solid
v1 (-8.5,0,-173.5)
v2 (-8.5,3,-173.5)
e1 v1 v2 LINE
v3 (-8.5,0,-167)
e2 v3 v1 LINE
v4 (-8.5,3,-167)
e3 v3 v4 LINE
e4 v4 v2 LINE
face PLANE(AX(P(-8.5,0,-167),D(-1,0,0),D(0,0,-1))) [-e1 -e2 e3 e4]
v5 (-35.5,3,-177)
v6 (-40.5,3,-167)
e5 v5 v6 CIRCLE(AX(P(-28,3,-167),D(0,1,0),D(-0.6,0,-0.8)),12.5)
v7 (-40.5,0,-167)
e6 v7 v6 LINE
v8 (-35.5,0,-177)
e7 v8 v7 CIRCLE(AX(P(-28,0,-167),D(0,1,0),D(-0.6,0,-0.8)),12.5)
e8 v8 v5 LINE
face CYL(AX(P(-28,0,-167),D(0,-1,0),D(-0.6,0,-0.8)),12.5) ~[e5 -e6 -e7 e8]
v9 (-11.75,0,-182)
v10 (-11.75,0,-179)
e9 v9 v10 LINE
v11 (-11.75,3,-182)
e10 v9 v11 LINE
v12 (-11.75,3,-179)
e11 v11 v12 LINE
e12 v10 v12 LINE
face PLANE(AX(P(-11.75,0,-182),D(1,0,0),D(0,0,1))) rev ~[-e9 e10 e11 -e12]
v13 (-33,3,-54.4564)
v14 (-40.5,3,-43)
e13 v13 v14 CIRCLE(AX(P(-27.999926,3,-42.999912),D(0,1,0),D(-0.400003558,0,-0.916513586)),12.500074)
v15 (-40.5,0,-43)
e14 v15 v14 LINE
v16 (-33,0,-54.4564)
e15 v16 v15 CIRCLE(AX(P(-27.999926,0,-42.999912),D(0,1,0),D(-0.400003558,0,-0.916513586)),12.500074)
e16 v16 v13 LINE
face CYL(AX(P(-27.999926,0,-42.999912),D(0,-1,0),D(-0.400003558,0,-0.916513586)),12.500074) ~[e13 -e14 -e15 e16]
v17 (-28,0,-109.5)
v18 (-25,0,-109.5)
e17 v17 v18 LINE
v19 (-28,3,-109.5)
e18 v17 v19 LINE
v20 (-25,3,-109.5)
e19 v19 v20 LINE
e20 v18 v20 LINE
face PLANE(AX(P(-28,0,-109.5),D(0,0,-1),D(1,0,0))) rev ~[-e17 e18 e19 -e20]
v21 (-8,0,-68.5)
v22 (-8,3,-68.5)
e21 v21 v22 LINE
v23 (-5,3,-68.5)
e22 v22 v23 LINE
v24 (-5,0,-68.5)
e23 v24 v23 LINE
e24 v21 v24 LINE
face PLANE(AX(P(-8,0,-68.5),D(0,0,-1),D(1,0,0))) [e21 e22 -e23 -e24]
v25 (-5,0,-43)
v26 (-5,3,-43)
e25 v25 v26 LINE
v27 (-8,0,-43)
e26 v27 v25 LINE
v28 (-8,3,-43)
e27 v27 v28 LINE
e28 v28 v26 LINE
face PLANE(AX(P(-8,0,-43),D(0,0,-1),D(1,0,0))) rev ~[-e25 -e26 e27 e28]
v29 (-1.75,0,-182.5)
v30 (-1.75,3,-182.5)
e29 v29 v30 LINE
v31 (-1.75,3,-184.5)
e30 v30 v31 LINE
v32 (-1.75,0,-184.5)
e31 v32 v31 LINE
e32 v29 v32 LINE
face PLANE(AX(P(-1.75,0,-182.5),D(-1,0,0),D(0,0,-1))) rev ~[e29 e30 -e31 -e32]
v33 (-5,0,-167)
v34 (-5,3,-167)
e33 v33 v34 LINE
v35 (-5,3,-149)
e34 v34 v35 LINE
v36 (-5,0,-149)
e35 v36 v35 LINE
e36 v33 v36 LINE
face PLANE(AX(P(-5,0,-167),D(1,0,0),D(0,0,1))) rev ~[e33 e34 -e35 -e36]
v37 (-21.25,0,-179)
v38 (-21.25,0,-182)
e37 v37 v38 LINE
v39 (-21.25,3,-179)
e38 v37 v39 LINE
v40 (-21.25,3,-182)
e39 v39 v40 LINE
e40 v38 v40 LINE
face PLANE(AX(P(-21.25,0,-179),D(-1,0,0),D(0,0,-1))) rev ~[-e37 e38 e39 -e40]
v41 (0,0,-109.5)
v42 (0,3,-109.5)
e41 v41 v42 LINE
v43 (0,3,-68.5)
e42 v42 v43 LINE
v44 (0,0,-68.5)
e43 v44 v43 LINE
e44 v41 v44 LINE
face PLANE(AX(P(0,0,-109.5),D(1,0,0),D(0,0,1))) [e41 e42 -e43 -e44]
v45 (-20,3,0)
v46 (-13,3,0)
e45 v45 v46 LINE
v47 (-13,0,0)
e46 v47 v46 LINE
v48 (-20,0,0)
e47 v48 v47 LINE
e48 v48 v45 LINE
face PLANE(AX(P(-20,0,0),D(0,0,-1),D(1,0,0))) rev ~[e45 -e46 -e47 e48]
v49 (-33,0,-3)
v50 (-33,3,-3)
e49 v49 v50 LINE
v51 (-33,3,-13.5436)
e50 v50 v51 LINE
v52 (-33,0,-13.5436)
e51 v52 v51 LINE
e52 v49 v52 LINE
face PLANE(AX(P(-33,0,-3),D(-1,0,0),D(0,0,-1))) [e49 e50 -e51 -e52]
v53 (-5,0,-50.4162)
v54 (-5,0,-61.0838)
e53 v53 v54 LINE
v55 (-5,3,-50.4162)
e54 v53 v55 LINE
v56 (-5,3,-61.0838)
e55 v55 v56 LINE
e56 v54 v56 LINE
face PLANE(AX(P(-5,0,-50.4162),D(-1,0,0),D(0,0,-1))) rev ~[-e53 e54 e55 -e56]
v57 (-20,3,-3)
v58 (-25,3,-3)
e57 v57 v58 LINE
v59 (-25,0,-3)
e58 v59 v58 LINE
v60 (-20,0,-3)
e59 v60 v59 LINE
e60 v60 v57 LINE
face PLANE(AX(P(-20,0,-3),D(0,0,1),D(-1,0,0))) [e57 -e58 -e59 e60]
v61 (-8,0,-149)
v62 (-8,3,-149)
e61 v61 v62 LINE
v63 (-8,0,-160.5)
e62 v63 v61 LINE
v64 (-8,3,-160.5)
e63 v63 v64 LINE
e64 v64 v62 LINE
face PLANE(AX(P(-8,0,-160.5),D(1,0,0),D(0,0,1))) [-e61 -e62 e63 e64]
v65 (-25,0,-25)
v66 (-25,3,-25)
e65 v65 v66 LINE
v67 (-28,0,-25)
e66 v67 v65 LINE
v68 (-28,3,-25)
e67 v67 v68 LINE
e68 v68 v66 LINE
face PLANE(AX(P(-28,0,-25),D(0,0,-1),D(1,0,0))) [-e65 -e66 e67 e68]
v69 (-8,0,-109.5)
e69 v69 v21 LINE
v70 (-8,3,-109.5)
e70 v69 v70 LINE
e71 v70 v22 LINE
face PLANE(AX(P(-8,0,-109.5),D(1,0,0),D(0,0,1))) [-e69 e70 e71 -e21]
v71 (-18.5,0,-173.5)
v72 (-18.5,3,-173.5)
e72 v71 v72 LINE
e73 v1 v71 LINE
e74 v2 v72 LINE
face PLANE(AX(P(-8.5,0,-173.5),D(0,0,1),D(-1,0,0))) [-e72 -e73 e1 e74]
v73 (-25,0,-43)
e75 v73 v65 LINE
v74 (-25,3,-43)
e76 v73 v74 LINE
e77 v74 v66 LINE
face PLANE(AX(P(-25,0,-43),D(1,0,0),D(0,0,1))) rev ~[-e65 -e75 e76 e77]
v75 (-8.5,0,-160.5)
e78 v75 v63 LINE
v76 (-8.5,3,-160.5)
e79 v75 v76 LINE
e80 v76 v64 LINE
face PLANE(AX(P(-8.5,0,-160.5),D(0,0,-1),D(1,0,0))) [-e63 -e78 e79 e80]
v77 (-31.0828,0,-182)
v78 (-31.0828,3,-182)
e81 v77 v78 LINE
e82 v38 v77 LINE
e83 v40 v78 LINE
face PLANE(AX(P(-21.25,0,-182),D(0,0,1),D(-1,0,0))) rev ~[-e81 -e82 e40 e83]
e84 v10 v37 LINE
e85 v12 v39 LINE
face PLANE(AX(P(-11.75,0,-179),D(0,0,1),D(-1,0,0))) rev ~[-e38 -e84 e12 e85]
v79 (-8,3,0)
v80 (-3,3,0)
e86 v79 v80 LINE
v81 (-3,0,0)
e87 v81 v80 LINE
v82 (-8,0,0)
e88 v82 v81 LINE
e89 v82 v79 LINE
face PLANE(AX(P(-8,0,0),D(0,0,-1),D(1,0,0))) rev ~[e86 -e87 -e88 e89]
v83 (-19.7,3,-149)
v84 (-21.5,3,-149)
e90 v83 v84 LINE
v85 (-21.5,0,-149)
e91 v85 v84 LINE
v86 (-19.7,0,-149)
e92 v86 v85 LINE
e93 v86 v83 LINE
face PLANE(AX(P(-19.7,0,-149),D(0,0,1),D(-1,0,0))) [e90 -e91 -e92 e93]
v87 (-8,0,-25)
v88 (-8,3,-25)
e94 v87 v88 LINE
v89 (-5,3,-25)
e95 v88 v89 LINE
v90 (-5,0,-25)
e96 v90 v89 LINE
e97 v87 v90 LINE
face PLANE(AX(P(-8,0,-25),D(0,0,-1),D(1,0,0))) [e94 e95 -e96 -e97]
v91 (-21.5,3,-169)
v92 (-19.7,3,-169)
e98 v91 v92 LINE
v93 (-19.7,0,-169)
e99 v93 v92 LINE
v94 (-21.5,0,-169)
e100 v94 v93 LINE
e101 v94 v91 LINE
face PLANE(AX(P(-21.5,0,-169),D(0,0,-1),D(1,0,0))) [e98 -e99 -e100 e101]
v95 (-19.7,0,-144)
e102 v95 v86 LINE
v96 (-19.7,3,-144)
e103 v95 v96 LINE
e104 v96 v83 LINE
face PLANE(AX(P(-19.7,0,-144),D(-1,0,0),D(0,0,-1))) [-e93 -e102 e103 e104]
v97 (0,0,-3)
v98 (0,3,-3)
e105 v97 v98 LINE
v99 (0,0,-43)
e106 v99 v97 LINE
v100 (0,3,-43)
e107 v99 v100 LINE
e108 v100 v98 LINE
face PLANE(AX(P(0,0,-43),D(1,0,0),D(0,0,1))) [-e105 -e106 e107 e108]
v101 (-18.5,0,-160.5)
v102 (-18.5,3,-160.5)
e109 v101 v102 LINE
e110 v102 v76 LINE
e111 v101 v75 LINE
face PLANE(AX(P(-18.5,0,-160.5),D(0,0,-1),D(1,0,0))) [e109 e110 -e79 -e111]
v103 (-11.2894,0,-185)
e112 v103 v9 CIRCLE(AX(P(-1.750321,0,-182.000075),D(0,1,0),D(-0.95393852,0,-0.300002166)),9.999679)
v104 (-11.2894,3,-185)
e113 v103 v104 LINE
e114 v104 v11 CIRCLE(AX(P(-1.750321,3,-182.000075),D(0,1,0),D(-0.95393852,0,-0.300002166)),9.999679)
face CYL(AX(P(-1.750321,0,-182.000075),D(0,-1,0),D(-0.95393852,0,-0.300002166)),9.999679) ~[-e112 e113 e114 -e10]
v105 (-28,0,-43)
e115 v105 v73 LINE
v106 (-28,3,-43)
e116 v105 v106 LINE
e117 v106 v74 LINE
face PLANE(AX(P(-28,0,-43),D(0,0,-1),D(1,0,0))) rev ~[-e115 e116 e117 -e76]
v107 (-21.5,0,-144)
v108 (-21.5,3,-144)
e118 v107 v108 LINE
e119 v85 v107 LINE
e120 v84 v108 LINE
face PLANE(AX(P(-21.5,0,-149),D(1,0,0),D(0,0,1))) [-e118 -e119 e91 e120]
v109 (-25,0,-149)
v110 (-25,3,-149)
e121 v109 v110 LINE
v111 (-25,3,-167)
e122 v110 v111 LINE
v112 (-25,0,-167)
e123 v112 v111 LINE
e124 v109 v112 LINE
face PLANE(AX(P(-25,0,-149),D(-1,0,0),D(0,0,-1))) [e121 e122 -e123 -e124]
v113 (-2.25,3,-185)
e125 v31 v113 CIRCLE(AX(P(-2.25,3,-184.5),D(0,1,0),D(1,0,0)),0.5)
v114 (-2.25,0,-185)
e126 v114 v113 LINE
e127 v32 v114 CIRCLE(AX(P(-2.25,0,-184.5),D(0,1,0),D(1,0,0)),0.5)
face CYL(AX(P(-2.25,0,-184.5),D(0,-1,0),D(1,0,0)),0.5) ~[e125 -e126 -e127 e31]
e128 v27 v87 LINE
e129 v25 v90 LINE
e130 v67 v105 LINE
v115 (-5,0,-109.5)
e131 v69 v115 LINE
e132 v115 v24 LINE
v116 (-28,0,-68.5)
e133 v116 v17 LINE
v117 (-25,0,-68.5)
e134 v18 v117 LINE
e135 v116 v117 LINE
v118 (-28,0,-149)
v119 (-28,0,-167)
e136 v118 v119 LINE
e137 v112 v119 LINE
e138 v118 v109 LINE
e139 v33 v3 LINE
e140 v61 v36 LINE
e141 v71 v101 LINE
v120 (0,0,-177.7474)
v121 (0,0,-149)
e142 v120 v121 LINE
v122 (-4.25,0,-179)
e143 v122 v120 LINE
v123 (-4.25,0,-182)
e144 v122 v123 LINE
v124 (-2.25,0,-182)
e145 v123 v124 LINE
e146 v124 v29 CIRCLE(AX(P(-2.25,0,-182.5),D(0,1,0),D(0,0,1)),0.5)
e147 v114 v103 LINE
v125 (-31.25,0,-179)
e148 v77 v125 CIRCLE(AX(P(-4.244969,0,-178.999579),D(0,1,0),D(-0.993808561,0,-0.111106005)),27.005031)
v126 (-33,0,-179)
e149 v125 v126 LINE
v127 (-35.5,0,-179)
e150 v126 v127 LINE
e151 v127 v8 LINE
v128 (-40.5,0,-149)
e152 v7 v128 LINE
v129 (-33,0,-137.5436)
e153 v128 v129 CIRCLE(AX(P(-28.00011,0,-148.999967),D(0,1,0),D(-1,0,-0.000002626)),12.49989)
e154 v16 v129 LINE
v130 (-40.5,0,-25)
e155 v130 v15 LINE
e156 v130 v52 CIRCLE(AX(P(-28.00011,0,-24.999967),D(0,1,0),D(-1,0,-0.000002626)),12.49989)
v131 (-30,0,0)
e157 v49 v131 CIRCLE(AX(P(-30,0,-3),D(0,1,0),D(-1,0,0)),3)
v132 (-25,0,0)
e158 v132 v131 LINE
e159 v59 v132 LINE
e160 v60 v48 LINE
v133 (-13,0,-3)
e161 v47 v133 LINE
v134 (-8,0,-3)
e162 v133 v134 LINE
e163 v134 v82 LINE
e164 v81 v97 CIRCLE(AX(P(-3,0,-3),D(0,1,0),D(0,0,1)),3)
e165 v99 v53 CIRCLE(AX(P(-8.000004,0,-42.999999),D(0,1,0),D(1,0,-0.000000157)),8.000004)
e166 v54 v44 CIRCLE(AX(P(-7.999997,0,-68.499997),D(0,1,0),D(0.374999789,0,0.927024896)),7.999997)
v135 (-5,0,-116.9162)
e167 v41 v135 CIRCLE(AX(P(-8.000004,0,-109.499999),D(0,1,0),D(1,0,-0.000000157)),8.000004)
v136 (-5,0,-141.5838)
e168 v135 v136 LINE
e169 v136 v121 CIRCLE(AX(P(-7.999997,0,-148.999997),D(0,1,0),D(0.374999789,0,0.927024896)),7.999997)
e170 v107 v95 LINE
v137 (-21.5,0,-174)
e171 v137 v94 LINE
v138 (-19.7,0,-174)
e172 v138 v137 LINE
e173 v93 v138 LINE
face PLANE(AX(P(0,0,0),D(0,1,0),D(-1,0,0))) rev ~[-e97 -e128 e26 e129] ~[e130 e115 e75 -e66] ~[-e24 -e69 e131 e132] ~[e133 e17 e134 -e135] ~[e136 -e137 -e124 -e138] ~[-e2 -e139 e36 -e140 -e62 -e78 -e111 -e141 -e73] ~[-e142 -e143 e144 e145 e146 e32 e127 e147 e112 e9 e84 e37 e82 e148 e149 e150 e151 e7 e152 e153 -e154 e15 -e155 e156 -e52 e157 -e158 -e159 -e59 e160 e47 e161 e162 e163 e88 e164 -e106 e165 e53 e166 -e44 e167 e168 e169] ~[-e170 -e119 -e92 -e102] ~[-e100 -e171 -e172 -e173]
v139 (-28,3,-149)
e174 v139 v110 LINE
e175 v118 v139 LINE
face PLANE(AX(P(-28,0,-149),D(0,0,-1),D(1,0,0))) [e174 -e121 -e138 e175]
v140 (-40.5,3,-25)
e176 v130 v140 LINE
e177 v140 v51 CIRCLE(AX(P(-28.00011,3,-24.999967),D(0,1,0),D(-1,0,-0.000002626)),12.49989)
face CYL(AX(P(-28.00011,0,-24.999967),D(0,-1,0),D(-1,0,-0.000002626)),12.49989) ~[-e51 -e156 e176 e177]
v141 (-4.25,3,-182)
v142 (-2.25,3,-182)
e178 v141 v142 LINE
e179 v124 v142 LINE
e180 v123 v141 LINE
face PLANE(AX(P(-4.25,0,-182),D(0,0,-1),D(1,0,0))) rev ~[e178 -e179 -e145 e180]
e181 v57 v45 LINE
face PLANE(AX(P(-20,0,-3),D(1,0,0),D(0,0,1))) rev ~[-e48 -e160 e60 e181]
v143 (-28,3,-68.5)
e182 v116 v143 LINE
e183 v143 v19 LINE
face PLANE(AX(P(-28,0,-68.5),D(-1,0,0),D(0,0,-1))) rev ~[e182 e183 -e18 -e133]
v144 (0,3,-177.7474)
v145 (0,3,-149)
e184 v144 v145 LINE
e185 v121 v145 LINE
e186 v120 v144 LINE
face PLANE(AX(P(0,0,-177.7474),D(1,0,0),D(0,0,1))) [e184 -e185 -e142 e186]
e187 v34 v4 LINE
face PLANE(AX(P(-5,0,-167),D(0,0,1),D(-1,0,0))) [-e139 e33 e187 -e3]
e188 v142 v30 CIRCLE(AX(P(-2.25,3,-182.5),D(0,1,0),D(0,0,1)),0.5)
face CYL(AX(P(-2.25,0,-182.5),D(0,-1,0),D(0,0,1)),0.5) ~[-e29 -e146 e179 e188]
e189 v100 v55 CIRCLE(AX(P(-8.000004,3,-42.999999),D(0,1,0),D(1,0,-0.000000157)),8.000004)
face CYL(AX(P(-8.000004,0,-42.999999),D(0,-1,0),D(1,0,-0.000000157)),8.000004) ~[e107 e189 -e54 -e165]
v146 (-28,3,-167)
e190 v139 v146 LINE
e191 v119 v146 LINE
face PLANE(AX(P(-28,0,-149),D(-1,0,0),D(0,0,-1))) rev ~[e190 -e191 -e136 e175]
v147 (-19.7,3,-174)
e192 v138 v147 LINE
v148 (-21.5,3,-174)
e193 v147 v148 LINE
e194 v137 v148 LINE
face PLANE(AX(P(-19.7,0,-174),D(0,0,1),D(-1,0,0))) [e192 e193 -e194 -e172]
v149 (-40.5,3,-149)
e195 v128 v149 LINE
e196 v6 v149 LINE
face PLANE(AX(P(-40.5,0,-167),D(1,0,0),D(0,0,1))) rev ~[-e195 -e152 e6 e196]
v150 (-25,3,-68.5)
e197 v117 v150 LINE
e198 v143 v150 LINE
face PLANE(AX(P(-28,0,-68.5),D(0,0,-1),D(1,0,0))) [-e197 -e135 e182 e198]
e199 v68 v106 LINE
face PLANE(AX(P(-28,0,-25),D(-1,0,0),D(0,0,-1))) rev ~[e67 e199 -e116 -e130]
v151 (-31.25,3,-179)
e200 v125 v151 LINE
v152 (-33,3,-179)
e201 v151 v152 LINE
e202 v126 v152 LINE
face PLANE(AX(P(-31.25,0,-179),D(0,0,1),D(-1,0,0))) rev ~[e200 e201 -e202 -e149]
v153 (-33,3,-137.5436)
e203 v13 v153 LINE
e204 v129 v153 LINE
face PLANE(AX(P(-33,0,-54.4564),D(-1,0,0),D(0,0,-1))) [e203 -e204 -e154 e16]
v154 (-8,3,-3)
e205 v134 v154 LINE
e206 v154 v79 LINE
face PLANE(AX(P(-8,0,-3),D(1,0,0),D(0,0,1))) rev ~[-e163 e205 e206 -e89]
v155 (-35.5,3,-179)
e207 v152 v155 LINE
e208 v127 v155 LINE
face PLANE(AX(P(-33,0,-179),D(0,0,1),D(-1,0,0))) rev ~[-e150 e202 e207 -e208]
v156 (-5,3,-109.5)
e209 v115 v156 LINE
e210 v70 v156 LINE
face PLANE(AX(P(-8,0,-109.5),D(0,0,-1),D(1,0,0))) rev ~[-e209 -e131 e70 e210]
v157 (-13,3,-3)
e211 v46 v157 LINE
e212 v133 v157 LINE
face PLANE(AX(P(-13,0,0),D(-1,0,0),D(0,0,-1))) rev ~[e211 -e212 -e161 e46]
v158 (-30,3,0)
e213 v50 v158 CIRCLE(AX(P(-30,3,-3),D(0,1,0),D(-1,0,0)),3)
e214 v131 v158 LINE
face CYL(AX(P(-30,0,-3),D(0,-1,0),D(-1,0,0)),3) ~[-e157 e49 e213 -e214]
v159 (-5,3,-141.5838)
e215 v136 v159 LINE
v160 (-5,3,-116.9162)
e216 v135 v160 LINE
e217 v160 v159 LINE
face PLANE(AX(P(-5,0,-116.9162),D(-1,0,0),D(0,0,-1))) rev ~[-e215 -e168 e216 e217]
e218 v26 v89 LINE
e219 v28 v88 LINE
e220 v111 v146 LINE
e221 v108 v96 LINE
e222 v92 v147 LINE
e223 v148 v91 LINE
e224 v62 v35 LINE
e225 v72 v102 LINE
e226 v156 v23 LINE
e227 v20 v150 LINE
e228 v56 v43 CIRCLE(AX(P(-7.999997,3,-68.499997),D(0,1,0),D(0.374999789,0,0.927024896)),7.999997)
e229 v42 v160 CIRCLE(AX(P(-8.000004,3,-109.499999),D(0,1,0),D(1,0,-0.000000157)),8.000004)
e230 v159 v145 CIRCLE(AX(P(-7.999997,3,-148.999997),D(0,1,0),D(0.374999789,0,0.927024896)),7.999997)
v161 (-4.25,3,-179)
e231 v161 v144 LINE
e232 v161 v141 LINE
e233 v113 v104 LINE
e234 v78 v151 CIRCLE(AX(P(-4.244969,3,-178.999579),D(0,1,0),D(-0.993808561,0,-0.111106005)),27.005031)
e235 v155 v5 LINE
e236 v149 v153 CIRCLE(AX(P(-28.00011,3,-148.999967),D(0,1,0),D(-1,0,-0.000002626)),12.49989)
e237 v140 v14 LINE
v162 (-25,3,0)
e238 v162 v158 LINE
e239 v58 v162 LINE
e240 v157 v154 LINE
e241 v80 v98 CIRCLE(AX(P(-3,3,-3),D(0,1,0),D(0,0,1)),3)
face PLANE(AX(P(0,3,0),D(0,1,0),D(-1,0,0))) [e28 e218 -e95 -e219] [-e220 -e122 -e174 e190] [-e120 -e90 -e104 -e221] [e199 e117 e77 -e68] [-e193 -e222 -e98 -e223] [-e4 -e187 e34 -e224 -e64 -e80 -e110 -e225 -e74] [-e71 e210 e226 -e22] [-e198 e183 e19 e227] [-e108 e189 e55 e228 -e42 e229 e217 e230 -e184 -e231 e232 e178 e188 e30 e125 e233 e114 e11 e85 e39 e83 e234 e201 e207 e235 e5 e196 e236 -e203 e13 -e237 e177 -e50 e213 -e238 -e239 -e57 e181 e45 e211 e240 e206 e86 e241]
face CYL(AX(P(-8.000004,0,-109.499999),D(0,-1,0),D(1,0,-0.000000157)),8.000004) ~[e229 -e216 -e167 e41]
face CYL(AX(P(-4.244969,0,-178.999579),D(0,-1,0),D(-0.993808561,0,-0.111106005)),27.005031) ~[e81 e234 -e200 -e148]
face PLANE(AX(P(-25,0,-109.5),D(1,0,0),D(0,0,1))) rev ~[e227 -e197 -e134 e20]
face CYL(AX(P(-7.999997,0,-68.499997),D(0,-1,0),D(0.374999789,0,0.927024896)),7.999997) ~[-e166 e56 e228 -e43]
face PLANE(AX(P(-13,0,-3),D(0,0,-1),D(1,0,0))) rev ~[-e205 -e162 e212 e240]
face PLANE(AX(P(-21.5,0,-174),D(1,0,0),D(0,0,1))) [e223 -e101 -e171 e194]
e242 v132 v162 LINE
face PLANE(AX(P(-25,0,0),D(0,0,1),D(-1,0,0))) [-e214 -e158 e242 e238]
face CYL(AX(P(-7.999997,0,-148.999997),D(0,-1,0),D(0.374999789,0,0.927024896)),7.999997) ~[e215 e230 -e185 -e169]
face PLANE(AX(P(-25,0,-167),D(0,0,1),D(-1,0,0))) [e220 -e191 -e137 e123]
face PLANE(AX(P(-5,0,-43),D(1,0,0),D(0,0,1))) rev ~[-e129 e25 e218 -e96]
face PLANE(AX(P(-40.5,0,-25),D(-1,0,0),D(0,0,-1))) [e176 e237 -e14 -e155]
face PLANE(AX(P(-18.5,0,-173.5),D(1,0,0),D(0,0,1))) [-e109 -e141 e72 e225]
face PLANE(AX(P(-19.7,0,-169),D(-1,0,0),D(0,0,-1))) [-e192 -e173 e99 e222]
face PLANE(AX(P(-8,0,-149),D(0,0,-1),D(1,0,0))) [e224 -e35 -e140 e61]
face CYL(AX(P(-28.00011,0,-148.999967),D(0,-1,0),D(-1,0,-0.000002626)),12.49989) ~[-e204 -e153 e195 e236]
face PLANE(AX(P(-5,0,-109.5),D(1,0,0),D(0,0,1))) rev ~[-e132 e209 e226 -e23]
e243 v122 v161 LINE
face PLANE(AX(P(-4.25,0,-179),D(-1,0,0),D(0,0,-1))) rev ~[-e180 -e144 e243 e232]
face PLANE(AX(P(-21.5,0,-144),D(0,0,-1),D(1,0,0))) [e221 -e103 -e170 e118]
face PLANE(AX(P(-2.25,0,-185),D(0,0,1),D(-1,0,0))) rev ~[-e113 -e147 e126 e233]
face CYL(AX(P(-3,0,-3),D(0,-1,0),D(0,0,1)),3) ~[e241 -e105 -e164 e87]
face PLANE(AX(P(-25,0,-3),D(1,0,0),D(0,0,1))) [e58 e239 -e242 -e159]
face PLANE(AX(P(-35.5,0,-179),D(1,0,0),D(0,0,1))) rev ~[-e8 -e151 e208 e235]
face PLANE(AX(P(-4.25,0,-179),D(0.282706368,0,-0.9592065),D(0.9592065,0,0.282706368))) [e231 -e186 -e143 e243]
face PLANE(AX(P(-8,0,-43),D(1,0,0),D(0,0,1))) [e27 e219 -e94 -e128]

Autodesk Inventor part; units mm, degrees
ref_plane "YZ Plane" through (0, 0, 0) normal (1, 0, 0) x (0, 1, 0)
ref_plane "XZ Plane" through (0, 0, 0) normal (0, 1, 0) x (-1, 0, 0)
ref_plane "XY Plane" through (0, 0, 0) normal (0, 0, 1) x (1, 0, 0)
sketch "Sketch1" plane through (0, 0, 0) normal (0, 1, 0) x (-1, 0, 0)
  line L0 (28, -25) -> (25, -25)
  line L1 (28, -43) -> (25, -43)
  line L2 (28, -68.5) -> (25, -68.5)
  line L3 (28, -109.5) -> (25, -109.5)
  line L4 (8, -68.5) -> (5, -68.5)
  line L5 (8, -109.5) -> (5, -109.5)
  line L6 (8, -43) -> (5, -43)
  line L7 (8, -25) -> (5, -25)
  line L8 (25, -109.5) -> (25, -68.5)
  line L9 (25, -43) -> (25, -25)
  line L10 (8, -109.5) -> (8, -68.5)
  line L11 (8, -43) -> (8, -25)
  line L12 (8, -160.5) -> (8, -149)
  line L13 (28, -149) -> (25, -149)
  line L14 (8, -149) -> (5, -149)
  line L15 (25, -149) -> (25, -167)
  line L16 (25, -167) -> (28, -167)
  line L17 (5, -167) -> (8.5, -167)
  line L18 (21.5, -169) -> (19.7, -169)
  line L19 (19.7, -169) -> (19.7, -174)
  line L20 (19.7, -174) -> (21.5, -174)
  line L21 (21.5, -174) -> (21.5, -169)
  line L22 (16.5, -110.2512) -> (16.5, -143.2512) construction
  line L23 (28, -25) -> (28, -43)
  line L24 (28, -68.5) -> (28, -109.5)
  line L25 (28, -149) -> (28, -167)
  line L26 (5, -167) -> (5, -149)
  line L27 (5, -109.5) -> (5, -68.5)
  line L28 (5, -43) -> (5, -25)
  line L29 (13, -3) -> (8, -3)
  line L30 (20, -3) -> (20, 0)
  line L31 (20, 0) -> (13, 0)
  line L32 (13, 0) -> (13, -3)
  line L33 (20, -3) -> (25, -3)
  line L34 (4.25, -179) -> (4.25, -182)
  line L35 (11.75, -179) -> (21.25, -179)
  line L36 (21.25, -179) -> (21.25, -182)
  line L37 (21.25, -182) -> (31.0828, -182)
  line L38 (31.25, -179) -> (33, -179)
  line L39 (4.25, -182) -> (2.25, -182)
  line L40 (25, -3) -> (25, 0)
  line L41 (25, 0) -> (30, 0)
  line L42 (8, -3) -> (8, 0)
  line L43 (8, 0) -> (3, 0)
  line L44 (2.25, -185) -> (11.2894, -185)
  arc A0 (31.0828, -182) -> (31.25, -179) centre (4.25, -179) ccw
  arc A1 (5, -141.5838) -> (0, -149) centre (8, -149) ccw
  arc A2 (5, -61.0838) -> (0, -68.5) centre (8, -68.5) ccw
  line L45 (5, -50.4162) -> (5, -61.0838)
  line L46 (5, -116.9162) -> (5, -141.5838)
  line L47 (19.5, -129.25) -> (13.2, -129.25) construction
  arc A3 (0, -109.5) -> (5, -116.9162) centre (8, -109.5) ccw
  line L48 (0, -177.7474) -> (0, -149)
  arc A4 (0, -43) -> (5, -50.4162) centre (8, -43) ccw
  line L49 (0, -109.5) -> (0, -68.5)
  line L50 (0, -43) -> (0, -3)
  arc A5 (33, -54.4564) -> (40.5, -43) centre (28, -43) ccw
  line L51 (40.5, -25) -> (40.5, -43)
  arc A6 (40.5, -25) -> (33, -13.5436) centre (28, -25) ccw
  line L52 (33, -3) -> (33, -13.5436)
  arc A7 (40.5, -149) -> (33, -137.5436) centre (28, -149) ccw
  line L53 (40.5, -167) -> (40.5, -149)
  arc A8 (35.5, -177) -> (40.5, -167) centre (28, -167) ccw
  line L54 (33, -54.4564) -> (33, -137.5436)
  arc A9 (33, -3) -> (30, 0) centre (30, -3) ccw
  arc A10 (3, 0) -> (0, -3) centre (3, -3) ccw
  line L55 (21.5, -144) -> (19.7, -144)
  line L56 (19.7, -144) -> (19.7, -149)
  line L57 (19.7, -149) -> (21.5, -149)
  line L58 (21.5, -149) -> (21.5, -144)
  line L59 (18.5, -160.5) -> (8.5, -160.5)
  line L60 (8.5, -167) -> (8.5, -173.5)
  line L61 (8.5, -173.5) -> (18.5, -173.5)
  line L62 (18.5, -173.5) -> (18.5, -160.5)
  line L63 (13.5, -163.9683) -> (13.5, -168.686) construction
  line L64 (14.8699, -167) -> (11.7199, -167) construction
  arc A11 (11.2894, -185) -> (11.75, -182) centre (1.75, -182) ccw
  line L65 (11.75, -182) -> (11.75, -179)
  line L66 (14.25, -179) -> (14.25, -182) construction
  line L67 (14.25, -182) -> (4.25, -182) construction
  line L68 (31.25, -179) -> (31.25, -182) construction
  line L69 (31.25, -182) -> (31.0828, -182) construction
  line L70 (33, -179) -> (35.5, -179)
  line L71 (35.5, -179) -> (35.5, -177)
  line L72 (33, -179) -> (33, -174.1753) construction
  line L73 (28, -179) -> (28, -186) construction
  line L74 (28, -186) -> (25, -186) construction
  line L75 (25, -186) -> (25, -179) construction
  line L76 (31.25, -179) -> (21.25, -179) construction
  line L77 (4.25, -179) -> (0, -177.7474)
  line L78 (1.75, -182.5) -> (1.75, -184.5)
  arc A12 (2.25, -182) -> (1.75, -182.5) centre (2.25, -182.5) ccw
  arc A13 (1.75, -184.5) -> (2.25, -185) centre (2.25, -184.5) ccw
  line L79 (8.5, -160.5) -> (8, -160.5)
  line L80 (26.5, -73.5989) -> (26.5, -105.0523) construction
  line L81 (6.5, -72.0232) -> (6.5, -105.7187) construction
  point P0 (0, 0)
  point P1 (1.75, -185)
  dimension "d7" = 18
  dimension "d8" = 25.5
  dimension "d9" = 41
  dimension "d39" = 18
  dimension "d45" = 5
  dimension "d56" = 3
  dimension "d61" = 39.5
  dimension "d64" = 12
  dimension "d65" = 7
  dimension "d74" = 176
  dimension "d75" = 17
  dimension "d85" = 10
  dimension "d90" = 5
  dimension "d92" = 25
  dimension "d104" = 6
  dimension "d105" = 5
  dimension "d106" = 1.8
  dimension "d107" = 3.5
  dimension "d108" = 20
  dimension "d112" = 8
  dimension "d113" = 12
  dimension "d114" = 7
  dimension "d115" = 10
  dimension "d116" = 3
  dimension "d121" = 2.5
  dimension "d122" = 25
  dimension "d123" = 7
  dimension "d124" = 10
  dimension "d125" = 2.5
  dimension "d126" = 2.5
  dimension "d127" = 0.5
  dimension "d129" = 13
  dimension "d130" = 10
  dimension "d134" = 17
extrude "Extrusion3" add sketch "Sketch1" along normal blind 3
properties part number "Left_wall"
